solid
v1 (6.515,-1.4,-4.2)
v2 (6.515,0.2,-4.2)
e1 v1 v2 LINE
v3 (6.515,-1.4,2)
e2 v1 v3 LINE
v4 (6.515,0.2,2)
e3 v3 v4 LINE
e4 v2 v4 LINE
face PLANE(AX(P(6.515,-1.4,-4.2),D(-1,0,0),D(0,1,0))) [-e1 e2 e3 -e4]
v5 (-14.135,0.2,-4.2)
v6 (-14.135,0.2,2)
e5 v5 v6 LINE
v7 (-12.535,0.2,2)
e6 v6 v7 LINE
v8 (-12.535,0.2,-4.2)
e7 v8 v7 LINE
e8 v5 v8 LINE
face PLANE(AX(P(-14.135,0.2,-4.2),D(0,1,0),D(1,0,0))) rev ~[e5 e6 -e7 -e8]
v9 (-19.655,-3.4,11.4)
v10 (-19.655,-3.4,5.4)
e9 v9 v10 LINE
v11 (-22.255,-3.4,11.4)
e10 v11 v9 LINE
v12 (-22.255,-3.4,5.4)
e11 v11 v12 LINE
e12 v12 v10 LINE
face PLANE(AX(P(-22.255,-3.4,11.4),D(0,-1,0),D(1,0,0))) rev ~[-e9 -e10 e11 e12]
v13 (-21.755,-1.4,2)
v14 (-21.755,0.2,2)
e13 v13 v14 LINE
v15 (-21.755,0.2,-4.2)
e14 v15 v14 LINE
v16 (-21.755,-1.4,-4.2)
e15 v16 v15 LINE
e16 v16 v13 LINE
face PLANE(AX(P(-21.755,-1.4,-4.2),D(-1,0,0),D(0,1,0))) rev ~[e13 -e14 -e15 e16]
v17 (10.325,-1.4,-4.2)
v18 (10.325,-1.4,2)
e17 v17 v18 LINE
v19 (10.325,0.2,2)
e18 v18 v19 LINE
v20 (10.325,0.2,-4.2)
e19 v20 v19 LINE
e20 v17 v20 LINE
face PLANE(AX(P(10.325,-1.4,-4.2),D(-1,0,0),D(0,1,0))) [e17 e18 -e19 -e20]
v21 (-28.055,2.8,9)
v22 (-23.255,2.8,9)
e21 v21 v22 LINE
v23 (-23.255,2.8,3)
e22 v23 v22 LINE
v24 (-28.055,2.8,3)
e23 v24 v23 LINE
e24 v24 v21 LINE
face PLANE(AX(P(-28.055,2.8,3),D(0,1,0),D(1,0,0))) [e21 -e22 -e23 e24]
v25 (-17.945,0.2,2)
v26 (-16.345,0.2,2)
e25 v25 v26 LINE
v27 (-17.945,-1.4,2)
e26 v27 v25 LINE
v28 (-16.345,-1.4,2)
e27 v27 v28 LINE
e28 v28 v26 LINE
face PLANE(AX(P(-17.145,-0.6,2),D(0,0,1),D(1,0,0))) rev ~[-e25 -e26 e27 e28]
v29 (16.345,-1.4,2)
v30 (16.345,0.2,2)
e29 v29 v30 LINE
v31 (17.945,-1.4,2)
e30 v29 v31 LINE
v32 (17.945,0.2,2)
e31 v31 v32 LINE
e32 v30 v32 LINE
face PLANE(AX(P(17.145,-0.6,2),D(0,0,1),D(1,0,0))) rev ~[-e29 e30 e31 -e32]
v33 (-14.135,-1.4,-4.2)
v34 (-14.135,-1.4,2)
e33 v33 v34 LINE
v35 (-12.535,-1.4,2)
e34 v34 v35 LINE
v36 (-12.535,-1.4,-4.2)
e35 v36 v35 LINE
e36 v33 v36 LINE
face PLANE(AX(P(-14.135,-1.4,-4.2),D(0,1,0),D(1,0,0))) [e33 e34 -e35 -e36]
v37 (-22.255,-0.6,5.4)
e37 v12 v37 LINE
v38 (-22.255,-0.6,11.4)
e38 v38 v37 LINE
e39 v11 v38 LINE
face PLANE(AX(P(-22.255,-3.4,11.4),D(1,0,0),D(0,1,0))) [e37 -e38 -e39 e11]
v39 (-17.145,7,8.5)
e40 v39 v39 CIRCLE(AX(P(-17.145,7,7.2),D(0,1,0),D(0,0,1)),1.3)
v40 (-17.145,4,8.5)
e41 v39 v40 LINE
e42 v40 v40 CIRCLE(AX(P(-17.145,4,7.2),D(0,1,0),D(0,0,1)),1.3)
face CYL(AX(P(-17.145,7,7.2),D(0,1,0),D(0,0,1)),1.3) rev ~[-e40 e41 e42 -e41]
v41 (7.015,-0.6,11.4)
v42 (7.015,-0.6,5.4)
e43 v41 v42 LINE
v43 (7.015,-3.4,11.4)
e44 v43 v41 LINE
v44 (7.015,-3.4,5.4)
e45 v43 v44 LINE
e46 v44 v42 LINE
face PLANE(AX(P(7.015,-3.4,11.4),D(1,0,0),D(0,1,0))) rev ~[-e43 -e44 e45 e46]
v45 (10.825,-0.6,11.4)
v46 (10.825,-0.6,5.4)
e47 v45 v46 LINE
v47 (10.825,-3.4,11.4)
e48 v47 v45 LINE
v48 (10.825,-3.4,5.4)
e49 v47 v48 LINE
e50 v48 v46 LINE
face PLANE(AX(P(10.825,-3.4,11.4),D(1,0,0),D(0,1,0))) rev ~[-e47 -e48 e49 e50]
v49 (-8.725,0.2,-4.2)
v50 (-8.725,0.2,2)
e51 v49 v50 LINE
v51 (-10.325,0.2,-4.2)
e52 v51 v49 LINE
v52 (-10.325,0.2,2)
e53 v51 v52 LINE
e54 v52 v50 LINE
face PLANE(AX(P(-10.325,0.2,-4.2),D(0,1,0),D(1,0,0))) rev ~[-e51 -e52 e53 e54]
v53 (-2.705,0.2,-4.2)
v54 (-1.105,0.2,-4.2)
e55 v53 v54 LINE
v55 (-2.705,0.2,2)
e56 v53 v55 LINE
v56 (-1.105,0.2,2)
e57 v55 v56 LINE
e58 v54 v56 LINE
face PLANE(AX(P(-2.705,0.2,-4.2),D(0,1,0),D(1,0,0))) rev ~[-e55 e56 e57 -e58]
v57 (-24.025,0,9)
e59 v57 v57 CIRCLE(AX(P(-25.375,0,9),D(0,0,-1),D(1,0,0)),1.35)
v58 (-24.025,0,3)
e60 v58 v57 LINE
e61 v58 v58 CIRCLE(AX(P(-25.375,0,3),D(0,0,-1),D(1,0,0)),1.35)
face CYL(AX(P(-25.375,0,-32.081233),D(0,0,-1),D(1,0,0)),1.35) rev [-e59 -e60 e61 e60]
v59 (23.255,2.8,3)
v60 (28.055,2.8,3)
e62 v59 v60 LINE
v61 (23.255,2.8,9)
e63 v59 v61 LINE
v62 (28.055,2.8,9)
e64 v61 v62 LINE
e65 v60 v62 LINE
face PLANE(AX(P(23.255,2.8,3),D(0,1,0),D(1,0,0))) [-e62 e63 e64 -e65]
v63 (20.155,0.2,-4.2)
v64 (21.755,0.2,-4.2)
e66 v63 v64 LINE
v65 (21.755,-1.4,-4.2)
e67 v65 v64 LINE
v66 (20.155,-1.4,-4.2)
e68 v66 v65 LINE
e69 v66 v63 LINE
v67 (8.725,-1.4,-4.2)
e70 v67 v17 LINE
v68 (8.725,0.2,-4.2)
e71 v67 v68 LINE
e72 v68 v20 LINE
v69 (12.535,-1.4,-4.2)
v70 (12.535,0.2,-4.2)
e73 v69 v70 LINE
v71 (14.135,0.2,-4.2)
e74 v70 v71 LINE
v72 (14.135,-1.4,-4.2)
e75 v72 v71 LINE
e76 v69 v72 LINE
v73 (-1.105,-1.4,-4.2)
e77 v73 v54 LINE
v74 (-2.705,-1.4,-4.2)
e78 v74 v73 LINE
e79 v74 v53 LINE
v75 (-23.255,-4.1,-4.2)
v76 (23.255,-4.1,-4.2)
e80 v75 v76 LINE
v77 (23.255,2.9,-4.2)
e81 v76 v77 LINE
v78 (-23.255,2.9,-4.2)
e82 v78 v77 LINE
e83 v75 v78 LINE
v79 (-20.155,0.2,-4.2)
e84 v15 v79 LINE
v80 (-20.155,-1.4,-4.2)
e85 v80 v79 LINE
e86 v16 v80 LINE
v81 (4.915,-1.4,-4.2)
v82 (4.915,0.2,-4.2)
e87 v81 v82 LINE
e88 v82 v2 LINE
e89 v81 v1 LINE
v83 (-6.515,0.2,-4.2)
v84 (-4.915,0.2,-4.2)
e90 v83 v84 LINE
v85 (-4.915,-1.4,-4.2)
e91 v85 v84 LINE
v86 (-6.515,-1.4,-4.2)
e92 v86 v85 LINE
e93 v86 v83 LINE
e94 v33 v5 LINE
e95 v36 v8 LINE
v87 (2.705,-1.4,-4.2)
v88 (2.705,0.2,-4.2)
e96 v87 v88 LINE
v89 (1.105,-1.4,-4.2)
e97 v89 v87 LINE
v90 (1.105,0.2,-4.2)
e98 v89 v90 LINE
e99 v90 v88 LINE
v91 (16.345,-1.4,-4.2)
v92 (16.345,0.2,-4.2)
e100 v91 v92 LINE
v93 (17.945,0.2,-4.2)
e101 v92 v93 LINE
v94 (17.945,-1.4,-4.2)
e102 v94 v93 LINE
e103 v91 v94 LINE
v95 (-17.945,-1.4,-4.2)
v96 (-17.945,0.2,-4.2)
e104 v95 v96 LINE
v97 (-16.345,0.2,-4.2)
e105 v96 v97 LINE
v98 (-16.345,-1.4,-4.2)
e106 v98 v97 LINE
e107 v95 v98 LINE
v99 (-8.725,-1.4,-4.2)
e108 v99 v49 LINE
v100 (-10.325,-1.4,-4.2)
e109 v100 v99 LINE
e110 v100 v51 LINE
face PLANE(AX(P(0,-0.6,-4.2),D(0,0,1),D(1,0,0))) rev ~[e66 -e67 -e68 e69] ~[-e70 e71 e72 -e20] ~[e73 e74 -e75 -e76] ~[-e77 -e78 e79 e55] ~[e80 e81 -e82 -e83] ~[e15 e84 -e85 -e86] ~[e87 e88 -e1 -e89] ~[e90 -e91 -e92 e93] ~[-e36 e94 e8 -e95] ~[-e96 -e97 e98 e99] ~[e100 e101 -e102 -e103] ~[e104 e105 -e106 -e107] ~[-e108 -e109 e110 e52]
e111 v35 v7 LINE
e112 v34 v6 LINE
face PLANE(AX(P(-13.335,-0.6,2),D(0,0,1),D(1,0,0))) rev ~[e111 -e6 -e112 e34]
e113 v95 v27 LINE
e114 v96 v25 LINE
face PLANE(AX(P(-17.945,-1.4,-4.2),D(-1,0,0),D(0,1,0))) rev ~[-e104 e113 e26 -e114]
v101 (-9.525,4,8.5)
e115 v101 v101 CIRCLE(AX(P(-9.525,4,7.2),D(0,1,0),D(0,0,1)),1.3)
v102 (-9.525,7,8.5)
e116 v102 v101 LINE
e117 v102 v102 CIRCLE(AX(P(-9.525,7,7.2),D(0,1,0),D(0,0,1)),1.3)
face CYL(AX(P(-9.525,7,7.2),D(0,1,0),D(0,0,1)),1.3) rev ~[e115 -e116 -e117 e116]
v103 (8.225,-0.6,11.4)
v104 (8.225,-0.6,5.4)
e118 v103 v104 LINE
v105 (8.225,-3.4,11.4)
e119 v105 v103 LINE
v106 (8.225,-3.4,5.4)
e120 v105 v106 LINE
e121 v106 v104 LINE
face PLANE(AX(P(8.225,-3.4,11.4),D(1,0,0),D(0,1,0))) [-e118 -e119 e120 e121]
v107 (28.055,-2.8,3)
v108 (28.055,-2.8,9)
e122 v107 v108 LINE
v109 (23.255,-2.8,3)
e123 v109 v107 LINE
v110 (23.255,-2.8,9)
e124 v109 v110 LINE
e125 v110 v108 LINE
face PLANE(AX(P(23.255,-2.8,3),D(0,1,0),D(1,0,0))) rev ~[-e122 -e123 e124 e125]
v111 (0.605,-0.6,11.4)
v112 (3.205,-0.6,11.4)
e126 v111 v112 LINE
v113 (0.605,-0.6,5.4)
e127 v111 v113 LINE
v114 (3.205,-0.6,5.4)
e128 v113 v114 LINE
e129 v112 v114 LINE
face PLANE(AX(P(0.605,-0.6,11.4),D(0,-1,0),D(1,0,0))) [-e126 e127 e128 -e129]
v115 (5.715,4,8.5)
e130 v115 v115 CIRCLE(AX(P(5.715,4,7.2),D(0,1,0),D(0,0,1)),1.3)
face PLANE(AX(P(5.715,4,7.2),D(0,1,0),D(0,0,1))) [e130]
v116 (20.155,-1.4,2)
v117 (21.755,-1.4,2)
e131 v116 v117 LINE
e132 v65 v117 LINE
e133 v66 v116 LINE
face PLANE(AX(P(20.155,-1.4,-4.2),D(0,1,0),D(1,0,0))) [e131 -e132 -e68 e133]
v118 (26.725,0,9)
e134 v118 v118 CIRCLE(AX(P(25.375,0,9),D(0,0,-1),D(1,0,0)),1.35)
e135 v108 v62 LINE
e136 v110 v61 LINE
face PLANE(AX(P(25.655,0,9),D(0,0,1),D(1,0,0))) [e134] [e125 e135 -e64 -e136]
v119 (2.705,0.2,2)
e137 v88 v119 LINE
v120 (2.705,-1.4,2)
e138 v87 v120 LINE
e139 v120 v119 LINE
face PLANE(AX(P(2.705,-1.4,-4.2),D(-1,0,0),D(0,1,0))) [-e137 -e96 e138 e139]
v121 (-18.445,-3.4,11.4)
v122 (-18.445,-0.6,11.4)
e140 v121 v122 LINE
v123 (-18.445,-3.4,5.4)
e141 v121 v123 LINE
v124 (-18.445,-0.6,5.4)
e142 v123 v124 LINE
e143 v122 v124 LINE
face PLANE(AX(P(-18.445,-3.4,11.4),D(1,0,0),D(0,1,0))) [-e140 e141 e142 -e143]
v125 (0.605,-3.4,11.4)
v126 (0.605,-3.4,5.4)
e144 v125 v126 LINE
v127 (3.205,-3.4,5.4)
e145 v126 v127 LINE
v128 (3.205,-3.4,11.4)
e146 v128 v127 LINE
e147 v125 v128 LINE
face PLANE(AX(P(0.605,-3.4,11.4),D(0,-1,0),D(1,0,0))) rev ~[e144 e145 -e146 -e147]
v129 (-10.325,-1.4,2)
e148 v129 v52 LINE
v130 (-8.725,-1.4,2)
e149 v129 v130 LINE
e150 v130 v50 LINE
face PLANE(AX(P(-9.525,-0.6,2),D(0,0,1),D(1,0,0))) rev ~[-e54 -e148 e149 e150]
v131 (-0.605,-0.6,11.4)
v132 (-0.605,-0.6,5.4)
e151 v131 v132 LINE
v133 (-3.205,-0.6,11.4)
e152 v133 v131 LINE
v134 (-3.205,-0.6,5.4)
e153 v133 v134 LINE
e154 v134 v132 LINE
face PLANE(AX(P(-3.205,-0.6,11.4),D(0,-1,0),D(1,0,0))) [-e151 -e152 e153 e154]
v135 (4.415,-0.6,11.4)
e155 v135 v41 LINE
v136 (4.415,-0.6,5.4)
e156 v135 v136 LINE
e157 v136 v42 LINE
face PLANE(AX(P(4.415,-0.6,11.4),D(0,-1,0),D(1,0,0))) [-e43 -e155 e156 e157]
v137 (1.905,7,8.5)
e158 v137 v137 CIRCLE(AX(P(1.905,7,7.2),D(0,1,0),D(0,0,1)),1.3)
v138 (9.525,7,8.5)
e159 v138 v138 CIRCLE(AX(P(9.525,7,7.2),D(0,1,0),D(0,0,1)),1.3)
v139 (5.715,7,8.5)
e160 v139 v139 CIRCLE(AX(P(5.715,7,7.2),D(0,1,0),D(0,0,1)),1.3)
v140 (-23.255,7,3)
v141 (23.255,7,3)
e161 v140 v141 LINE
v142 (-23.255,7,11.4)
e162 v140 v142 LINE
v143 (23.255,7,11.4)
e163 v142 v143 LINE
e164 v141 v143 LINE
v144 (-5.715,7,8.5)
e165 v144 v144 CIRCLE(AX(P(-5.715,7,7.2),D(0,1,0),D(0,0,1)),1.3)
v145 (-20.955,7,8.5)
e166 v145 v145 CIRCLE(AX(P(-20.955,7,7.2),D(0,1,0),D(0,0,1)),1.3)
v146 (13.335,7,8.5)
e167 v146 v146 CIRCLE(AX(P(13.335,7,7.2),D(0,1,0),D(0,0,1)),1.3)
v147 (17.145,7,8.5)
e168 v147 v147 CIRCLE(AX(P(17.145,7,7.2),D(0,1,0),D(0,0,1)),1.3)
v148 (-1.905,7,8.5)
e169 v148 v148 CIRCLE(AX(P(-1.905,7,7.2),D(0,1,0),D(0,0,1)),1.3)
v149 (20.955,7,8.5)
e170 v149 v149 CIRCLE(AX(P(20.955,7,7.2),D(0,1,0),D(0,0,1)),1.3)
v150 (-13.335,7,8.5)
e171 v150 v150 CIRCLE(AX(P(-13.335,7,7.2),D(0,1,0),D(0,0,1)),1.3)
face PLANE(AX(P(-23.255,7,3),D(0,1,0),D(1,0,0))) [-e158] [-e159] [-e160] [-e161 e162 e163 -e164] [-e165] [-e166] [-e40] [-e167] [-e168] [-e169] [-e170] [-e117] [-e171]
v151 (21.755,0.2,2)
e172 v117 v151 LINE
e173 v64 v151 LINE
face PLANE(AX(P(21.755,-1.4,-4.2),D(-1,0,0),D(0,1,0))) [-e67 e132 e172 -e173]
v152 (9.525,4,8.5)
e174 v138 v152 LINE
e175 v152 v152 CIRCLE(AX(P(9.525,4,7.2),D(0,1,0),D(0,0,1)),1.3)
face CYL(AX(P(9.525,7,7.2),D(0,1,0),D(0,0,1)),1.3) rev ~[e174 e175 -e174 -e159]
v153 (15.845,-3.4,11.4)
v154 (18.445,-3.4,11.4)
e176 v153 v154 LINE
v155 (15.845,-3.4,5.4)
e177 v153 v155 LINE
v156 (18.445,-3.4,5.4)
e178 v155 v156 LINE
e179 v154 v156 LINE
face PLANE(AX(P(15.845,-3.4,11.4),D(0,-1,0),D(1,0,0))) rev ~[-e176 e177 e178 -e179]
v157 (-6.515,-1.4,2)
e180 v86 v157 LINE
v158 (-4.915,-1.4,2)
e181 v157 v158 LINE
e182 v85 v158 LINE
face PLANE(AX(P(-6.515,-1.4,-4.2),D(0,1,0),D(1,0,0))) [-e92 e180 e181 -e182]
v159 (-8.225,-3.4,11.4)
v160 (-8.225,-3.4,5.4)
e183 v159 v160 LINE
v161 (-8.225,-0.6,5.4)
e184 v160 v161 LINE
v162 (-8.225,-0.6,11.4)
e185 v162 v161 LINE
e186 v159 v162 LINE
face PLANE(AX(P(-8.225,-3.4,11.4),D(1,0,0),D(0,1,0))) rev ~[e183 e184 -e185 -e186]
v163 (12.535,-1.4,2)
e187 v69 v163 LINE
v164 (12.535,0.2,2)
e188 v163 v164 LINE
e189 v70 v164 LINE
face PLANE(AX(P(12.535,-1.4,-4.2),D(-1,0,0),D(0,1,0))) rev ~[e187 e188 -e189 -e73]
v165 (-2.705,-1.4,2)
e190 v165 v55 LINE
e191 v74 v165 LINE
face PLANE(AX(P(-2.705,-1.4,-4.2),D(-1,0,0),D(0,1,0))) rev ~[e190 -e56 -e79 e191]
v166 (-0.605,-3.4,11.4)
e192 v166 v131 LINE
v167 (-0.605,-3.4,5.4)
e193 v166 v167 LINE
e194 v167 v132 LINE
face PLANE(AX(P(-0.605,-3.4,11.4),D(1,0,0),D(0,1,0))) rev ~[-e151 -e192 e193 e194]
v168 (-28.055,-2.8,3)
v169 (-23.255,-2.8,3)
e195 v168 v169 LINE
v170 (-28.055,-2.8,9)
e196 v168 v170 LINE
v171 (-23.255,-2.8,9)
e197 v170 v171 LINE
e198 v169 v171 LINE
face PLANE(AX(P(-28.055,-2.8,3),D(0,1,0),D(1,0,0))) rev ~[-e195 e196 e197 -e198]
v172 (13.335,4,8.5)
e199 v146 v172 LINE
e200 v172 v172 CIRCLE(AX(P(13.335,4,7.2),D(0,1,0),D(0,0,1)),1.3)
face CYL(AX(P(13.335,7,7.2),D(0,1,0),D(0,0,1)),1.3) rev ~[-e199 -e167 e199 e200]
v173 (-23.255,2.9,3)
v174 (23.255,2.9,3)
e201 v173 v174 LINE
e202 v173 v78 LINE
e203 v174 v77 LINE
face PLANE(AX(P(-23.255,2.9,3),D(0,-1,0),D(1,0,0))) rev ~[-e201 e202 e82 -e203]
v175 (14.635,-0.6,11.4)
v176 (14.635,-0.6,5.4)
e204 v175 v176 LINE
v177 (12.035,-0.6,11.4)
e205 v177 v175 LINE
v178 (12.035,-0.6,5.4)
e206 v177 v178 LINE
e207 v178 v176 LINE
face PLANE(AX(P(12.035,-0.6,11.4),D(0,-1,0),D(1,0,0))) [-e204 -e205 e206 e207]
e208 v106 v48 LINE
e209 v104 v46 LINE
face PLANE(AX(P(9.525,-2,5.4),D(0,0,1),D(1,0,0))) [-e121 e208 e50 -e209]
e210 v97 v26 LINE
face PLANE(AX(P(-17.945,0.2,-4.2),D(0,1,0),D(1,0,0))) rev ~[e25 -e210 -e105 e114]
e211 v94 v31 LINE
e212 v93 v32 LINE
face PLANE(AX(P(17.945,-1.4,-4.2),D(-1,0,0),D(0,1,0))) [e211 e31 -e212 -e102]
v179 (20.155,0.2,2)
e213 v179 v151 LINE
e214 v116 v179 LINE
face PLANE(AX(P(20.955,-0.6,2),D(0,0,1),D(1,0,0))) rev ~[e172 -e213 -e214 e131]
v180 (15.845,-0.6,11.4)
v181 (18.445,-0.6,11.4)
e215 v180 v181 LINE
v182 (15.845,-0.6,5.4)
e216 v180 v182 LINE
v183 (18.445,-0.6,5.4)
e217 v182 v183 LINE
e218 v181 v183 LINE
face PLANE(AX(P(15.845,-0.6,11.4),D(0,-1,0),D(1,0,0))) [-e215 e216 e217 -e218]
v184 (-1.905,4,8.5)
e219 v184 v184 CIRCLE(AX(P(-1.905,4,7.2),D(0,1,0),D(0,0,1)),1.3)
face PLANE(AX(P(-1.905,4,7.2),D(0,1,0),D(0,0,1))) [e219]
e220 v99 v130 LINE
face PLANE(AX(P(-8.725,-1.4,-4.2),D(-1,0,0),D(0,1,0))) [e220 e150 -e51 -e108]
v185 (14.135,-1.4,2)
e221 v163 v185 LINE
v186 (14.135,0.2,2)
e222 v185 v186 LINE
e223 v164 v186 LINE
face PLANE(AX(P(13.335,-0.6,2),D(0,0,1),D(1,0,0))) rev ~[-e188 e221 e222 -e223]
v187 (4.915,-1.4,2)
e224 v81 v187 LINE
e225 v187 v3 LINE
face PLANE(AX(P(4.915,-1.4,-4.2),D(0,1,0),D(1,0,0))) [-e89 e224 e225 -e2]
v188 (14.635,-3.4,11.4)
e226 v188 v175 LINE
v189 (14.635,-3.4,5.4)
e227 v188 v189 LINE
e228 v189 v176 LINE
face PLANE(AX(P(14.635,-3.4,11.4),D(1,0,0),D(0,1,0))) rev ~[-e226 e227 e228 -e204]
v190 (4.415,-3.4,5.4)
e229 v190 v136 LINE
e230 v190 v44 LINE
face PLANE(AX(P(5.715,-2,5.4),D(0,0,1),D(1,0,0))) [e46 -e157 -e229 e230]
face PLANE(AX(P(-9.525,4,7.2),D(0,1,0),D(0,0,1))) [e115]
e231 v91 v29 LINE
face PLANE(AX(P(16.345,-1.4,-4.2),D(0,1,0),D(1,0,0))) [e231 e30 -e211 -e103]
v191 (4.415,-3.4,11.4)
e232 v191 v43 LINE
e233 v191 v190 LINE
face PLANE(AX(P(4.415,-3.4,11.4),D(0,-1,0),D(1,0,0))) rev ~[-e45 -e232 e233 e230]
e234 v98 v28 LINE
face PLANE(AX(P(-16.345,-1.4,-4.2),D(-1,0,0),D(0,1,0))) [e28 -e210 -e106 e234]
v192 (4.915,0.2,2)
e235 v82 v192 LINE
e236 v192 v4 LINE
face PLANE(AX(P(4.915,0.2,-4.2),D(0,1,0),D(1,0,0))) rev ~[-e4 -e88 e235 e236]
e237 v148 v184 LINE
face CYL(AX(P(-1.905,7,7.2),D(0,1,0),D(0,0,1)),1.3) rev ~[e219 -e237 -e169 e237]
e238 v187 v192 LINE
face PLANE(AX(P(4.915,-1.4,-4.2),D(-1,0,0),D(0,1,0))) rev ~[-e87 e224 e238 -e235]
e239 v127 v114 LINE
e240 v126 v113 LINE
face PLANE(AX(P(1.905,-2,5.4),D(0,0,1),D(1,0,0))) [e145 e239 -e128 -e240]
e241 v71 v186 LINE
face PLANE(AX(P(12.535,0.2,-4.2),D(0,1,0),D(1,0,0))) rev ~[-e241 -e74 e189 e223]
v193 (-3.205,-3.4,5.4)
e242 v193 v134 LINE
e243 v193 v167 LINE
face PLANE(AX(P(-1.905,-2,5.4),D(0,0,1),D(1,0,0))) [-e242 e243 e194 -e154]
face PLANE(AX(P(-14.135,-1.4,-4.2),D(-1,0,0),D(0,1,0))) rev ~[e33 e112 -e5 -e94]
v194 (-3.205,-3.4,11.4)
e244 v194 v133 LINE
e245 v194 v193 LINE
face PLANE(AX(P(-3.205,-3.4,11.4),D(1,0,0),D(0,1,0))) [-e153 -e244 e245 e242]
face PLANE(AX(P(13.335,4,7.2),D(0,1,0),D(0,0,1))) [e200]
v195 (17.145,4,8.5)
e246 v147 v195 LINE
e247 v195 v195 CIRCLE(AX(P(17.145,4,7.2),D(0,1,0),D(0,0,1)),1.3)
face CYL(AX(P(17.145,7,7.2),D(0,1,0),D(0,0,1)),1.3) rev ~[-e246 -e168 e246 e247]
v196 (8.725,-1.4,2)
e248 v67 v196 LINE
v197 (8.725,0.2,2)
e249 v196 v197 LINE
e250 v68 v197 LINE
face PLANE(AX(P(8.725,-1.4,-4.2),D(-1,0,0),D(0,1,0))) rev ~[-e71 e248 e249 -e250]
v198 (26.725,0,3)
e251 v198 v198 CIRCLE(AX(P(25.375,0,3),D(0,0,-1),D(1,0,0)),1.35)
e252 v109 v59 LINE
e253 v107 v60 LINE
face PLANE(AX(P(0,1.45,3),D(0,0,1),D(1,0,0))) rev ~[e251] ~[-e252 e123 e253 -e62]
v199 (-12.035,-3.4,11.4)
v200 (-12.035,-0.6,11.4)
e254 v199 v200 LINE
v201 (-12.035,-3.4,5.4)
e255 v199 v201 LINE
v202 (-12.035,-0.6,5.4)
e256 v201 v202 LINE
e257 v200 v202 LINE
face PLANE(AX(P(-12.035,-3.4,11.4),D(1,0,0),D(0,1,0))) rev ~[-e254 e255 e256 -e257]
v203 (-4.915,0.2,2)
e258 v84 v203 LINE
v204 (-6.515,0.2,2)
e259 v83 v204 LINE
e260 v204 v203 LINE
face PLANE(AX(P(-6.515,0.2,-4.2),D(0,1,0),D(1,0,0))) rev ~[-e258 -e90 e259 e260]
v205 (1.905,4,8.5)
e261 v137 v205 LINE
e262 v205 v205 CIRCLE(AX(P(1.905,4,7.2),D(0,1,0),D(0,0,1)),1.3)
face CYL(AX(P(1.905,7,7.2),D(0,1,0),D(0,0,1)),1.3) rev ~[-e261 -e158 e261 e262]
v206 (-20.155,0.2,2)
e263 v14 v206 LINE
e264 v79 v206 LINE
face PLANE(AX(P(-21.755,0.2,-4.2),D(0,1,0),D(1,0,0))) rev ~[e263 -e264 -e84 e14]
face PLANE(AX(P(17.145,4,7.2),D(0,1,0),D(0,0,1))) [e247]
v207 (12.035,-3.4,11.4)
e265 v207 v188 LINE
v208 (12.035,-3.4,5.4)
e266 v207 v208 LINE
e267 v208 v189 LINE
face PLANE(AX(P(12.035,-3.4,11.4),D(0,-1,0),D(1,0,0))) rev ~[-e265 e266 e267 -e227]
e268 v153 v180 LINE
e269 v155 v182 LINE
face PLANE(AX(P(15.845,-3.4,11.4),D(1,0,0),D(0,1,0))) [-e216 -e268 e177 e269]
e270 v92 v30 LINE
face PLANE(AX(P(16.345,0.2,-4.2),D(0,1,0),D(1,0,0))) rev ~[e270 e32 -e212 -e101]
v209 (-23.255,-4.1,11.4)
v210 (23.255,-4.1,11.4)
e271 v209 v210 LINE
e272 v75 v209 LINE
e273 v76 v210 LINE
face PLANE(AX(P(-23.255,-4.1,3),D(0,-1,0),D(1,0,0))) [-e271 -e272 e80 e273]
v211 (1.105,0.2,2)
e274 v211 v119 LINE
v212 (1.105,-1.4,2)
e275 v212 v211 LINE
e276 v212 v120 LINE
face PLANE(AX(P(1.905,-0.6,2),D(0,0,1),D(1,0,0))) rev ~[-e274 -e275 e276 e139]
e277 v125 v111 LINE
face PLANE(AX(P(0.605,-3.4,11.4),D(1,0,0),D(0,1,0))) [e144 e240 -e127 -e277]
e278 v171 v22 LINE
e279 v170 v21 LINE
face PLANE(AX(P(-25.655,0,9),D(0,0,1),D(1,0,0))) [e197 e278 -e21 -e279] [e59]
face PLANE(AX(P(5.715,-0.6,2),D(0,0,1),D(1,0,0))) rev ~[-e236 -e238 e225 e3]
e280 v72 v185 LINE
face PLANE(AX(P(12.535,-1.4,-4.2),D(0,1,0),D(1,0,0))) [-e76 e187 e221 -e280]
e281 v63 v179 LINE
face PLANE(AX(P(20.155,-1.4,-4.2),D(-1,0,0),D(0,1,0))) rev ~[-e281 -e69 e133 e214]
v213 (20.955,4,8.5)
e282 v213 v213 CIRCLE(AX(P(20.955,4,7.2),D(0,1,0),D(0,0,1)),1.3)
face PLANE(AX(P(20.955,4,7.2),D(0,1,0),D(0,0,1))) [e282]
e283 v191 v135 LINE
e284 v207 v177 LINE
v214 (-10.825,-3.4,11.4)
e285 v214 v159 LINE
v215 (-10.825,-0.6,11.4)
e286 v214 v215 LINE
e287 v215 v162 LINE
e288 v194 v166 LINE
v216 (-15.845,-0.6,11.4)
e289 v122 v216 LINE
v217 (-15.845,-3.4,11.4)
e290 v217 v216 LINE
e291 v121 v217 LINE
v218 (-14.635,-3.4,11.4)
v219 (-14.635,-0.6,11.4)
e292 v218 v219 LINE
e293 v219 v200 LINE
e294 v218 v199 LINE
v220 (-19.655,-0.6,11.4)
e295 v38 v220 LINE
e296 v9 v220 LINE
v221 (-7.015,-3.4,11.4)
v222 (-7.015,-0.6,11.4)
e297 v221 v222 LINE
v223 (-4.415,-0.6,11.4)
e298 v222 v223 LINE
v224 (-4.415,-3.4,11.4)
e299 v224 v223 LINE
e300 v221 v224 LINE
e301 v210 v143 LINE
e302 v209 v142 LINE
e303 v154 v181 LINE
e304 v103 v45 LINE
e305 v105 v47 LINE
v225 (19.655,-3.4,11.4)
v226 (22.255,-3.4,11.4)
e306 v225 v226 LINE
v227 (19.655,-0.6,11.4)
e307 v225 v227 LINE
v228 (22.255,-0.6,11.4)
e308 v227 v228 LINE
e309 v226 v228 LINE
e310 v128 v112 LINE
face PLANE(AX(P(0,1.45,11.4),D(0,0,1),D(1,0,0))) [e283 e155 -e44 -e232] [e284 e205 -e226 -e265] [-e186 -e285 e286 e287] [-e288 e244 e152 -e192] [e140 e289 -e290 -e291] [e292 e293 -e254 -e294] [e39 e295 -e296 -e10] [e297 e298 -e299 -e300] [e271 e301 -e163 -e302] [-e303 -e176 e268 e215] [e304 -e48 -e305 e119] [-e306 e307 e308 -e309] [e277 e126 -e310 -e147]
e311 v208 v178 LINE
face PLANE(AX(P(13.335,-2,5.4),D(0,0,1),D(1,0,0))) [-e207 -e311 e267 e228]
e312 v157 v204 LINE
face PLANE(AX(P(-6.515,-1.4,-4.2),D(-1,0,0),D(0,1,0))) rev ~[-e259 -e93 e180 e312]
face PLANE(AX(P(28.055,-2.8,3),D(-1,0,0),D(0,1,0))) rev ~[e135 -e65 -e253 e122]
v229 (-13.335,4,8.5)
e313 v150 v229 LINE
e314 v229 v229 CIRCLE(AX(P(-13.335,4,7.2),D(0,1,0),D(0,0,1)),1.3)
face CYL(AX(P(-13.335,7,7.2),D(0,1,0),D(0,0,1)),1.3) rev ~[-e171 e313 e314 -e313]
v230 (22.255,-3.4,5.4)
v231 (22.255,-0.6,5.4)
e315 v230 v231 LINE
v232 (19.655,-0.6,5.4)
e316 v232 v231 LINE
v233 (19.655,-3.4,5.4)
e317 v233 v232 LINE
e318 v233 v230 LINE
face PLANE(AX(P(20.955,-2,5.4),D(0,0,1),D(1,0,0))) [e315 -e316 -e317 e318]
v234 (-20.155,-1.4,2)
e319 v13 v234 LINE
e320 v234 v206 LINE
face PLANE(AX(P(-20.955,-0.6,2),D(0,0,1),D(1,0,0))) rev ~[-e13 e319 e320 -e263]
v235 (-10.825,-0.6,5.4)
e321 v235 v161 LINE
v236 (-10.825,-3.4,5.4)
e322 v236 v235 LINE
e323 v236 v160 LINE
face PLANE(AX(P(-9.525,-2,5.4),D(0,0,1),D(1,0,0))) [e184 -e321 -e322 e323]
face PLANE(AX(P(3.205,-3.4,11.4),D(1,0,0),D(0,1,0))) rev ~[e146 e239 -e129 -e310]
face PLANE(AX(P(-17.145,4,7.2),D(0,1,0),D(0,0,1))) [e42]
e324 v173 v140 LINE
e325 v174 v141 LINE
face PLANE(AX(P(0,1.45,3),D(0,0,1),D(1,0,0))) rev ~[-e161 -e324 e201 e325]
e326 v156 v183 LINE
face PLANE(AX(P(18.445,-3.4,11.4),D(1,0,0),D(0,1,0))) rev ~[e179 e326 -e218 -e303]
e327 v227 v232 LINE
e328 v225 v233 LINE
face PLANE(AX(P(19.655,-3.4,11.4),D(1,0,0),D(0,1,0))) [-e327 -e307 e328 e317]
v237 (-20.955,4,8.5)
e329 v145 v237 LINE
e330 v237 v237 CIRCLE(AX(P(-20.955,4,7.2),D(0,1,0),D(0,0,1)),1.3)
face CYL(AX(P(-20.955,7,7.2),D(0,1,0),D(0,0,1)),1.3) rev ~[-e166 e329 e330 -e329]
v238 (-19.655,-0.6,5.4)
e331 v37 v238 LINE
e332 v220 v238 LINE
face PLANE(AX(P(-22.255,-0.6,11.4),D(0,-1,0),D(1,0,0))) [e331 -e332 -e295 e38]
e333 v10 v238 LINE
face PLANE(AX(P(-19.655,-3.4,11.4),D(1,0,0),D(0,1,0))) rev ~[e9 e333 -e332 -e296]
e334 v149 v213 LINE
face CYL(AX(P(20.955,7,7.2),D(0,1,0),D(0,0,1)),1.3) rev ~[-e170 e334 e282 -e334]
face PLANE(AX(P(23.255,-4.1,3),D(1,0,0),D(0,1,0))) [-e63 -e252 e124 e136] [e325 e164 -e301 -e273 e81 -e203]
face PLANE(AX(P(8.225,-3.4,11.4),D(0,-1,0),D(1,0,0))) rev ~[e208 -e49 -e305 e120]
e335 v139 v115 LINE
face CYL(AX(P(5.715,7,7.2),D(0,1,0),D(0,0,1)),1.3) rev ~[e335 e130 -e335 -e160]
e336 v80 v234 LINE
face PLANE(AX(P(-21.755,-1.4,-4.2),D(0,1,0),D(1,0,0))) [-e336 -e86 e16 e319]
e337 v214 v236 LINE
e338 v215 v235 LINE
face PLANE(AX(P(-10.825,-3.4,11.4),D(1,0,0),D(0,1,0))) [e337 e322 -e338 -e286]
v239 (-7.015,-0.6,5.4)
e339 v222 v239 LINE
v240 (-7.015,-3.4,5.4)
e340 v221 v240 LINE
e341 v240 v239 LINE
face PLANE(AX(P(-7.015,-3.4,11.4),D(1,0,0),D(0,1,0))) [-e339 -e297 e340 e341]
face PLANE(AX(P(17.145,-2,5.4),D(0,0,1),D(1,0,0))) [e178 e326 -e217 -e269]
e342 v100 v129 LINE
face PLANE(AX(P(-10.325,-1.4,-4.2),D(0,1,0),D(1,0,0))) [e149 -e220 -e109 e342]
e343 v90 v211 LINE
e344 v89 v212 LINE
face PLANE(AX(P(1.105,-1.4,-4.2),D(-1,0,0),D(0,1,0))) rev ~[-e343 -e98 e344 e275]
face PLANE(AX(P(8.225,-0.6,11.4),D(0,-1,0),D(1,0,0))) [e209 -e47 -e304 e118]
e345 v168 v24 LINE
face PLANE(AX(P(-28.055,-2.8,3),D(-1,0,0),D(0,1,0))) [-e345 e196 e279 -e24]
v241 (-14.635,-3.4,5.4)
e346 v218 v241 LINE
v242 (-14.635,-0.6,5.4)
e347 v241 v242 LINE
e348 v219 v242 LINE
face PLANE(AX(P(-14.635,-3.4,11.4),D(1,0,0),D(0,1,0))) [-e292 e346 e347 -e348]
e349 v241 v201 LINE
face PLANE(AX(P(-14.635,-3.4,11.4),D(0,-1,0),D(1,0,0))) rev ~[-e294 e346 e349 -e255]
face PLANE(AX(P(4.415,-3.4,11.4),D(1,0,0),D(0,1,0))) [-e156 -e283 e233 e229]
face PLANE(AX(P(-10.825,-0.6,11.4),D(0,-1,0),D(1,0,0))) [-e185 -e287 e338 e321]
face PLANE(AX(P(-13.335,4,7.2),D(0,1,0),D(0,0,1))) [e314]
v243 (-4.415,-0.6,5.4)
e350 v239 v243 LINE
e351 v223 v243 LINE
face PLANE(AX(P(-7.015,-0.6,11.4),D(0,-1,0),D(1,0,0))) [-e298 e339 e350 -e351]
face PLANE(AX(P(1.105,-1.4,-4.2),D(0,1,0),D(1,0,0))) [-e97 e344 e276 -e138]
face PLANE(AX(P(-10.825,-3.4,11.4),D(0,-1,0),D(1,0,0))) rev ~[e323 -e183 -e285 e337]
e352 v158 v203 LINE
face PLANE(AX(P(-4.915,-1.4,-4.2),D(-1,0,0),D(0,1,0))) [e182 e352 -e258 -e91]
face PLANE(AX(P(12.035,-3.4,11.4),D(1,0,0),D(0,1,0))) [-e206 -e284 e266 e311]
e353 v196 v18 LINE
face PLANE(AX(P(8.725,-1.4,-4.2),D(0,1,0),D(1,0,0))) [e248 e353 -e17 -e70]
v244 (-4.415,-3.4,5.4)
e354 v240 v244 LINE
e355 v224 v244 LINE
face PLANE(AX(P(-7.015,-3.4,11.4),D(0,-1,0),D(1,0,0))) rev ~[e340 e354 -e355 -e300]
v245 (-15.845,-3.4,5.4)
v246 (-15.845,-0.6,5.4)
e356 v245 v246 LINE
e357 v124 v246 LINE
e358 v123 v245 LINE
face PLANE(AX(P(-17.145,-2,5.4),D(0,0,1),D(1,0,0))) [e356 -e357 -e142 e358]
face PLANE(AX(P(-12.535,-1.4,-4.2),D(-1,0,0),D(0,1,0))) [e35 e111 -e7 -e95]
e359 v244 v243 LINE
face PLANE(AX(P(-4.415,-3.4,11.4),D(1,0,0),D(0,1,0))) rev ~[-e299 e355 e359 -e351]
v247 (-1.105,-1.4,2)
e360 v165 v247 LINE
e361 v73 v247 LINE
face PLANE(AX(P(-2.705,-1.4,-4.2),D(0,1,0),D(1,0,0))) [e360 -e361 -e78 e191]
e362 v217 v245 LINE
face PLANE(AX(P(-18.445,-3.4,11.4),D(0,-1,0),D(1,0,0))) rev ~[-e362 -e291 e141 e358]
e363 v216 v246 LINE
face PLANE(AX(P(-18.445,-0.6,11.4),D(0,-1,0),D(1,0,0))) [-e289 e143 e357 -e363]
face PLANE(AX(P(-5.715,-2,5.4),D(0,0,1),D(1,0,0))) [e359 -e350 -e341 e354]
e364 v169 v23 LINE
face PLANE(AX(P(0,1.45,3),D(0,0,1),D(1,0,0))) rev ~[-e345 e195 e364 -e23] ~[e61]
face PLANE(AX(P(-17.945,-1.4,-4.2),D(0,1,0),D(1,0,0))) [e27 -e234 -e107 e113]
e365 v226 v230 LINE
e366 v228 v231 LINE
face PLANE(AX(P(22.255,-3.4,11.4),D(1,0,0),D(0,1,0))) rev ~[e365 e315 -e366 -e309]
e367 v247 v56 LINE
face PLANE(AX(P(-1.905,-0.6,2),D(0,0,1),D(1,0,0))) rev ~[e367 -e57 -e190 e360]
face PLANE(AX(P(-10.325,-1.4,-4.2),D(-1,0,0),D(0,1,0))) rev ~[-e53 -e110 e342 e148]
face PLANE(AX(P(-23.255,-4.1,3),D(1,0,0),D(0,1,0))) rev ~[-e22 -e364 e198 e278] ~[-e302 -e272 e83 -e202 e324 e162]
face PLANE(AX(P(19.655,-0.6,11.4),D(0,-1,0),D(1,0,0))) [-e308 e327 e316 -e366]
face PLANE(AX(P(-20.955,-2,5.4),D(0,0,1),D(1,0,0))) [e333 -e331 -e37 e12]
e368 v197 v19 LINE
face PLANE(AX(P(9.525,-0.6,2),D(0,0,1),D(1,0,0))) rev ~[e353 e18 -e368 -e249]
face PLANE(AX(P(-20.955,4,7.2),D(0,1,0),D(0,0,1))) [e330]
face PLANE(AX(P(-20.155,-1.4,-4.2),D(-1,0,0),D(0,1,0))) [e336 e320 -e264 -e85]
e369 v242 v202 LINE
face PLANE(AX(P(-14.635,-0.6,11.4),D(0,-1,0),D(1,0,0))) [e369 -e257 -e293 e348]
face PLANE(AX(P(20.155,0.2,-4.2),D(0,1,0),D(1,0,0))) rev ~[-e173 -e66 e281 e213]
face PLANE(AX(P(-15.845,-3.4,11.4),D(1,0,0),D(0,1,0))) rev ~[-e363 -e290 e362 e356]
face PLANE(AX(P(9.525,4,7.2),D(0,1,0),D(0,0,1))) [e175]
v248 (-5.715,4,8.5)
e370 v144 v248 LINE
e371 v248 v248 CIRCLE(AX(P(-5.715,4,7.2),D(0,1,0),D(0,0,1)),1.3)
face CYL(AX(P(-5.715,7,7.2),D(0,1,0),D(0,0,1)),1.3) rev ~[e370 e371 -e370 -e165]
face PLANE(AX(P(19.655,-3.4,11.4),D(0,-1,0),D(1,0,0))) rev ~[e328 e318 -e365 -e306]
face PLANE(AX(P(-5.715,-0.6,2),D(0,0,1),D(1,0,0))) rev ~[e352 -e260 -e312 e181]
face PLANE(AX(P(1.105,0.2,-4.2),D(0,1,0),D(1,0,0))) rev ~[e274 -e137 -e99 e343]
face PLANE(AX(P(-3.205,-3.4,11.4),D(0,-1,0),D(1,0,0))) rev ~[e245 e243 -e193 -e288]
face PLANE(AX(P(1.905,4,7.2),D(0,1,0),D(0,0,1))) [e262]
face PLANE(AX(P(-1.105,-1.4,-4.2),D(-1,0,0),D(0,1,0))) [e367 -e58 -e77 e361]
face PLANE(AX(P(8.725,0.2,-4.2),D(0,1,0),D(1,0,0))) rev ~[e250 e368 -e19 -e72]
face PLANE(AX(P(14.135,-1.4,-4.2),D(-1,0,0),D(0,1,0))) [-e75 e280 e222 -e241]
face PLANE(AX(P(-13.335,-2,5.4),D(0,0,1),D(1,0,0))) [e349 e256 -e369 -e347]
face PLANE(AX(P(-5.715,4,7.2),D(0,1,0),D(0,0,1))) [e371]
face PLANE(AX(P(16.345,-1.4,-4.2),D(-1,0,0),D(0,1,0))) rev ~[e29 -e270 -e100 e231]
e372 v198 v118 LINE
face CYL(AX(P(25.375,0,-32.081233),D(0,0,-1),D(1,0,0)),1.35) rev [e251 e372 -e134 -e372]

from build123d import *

# Parameters (mm, degrees)
SK_BODY_W                     = 46.51
SK_BODY_H                     = 11.1
BODY_DEPTH                    = 8.4
SK_FLANGE_EARS_W              = 4.8
SK_FLANGE_EARS_H              = 5.6
FLANGE_EARS_DEPTH             = 6
SK_NOSE_W                     = 46.51
SK_NOSE_H                     = 7
NOSE_DEPTH                    = 7.2
FLANGE_SCREW_HOLES_DEPTH      = 32.081232681
FLANGE_SCREW_HOLES_DEPTH_BACK = 32.081232681
SK_FLANGE_SCREW_HOLES_R       = 1.35
SK_WIRE_ENTRIES_W             = 2.6
SK_WIRE_ENTRIES_H             = 2.8
WIRE_ENTRIES_DEPTH            = 6
SK_CONTACT_OPENINGS_W         = 1.6
SK_CONTACT_OPENINGS_H         = 1.6
CONTACT_OPENINGS_DEPTH        = 6.2
SK_CLAMP_SCREW_HOLES_R        = 1.3
CLAMP_SCREW_HOLES_DEPTH       = 3


with BuildPart() as part:
    # SK Body → Body (new body)
    with BuildSketch(Plane.XY.offset(3)):
        with Locations((0, 1.45)):
            Rectangle(SK_BODY_W, SK_BODY_H)
    extrude(amount=BODY_DEPTH)

    # SK Flange ears → Flange ears (add)
    with BuildSketch(Plane.XY.offset(3)):
        with Locations((25.655, 0)):
            Rectangle(SK_FLANGE_EARS_W, SK_FLANGE_EARS_H)
        with Locations((-25.655, 0)):
            Rectangle(SK_FLANGE_EARS_W, SK_FLANGE_EARS_H)
    extrude(amount=FLANGE_EARS_DEPTH)

    # SK Nose → Nose (add)
    with BuildSketch(Plane.XY.offset(3)):
        with Locations((0, -0.6)):
            Rectangle(SK_NOSE_W, SK_NOSE_H)
    extrude(amount=-NOSE_DEPTH)

    # SK Flange screw holes → Flange screw holes (cut, two sides: drawn at the far end of the back side and taken through both)
    with BuildSketch(Plane.XY.offset(-FLANGE_SCREW_HOLES_DEPTH_BACK)):
        with Locations((-25.375, 0)):
            Circle(SK_FLANGE_SCREW_HOLES_R)
        with Locations((25.375, 0)):
            Circle(SK_FLANGE_SCREW_HOLES_R)
    extrude(amount=FLANGE_SCREW_HOLES_DEPTH + FLANGE_SCREW_HOLES_DEPTH_BACK, mode=Mode.SUBTRACT)

    # SK Wire entries → Wire entries (cut)
    with BuildSketch(Plane.XY.offset(11.4)):
        with Locations((-20.955, -2)):
            Rectangle(SK_WIRE_ENTRIES_W, SK_WIRE_ENTRIES_H)
        with Locations((-17.145, -2)):
            Rectangle(SK_WIRE_ENTRIES_W, SK_WIRE_ENTRIES_H)
        with Locations((-13.335, -2)):
            Rectangle(SK_WIRE_ENTRIES_W, SK_WIRE_ENTRIES_H)
        with Locations((-9.525, -2)):
            Rectangle(SK_WIRE_ENTRIES_W, SK_WIRE_ENTRIES_H)
        with Locations((-5.715, -2)):
            Rectangle(SK_WIRE_ENTRIES_W, SK_WIRE_ENTRIES_H)
        with Locations((-1.905, -2)):
            Rectangle(SK_WIRE_ENTRIES_W, SK_WIRE_ENTRIES_H)
        with Locations((1.905, -2)):
            Rectangle(SK_WIRE_ENTRIES_W, SK_WIRE_ENTRIES_H)
        with Locations((5.715, -2)):
            Rectangle(SK_WIRE_ENTRIES_W, SK_WIRE_ENTRIES_H)
        with Locations((9.525, -2)):
            Rectangle(SK_WIRE_ENTRIES_W, SK_WIRE_ENTRIES_H)
        with Locations((13.335, -2)):
            Rectangle(SK_WIRE_ENTRIES_W, SK_WIRE_ENTRIES_H)
        with Locations((17.145, -2)):
            Rectangle(SK_WIRE_ENTRIES_W, SK_WIRE_ENTRIES_H)
        with Locations((20.955, -2)):
            Rectangle(SK_WIRE_ENTRIES_W, SK_WIRE_ENTRIES_H)
    extrude(amount=-WIRE_ENTRIES_DEPTH, mode=Mode.SUBTRACT)

    # SK Contact openings → Contact openings (cut)
    with BuildSketch(Plane.XY.offset(-4.2)):
        with Locations((-20.955, -0.6)):
            Rectangle(SK_CONTACT_OPENINGS_W, SK_CONTACT_OPENINGS_H)
        with Locations((-17.145, -0.6)):
            Rectangle(SK_CONTACT_OPENINGS_W, SK_CONTACT_OPENINGS_H)
        with Locations((-13.335, -0.6)):
            Rectangle(SK_CONTACT_OPENINGS_W, SK_CONTACT_OPENINGS_H)
        with Locations((-9.525, -0.6)):
            Rectangle(SK_CONTACT_OPENINGS_W, SK_CONTACT_OPENINGS_H)
        with Locations((-5.715, -0.6)):
            Rectangle(SK_CONTACT_OPENINGS_W, SK_CONTACT_OPENINGS_H)
        with Locations((-1.905, -0.6)):
            Rectangle(SK_CONTACT_OPENINGS_W, SK_CONTACT_OPENINGS_H)
        with Locations((1.905, -0.6)):
            Rectangle(SK_CONTACT_OPENINGS_W, SK_CONTACT_OPENINGS_H)
        with Locations((5.715, -0.6)):
            Rectangle(SK_CONTACT_OPENINGS_W, SK_CONTACT_OPENINGS_H)
        with Locations((9.525, -0.6)):
            Rectangle(SK_CONTACT_OPENINGS_W, SK_CONTACT_OPENINGS_H)
        with Locations((13.335, -0.6)):
            Rectangle(SK_CONTACT_OPENINGS_W, SK_CONTACT_OPENINGS_H)
        with Locations((17.145, -0.6)):
            Rectangle(SK_CONTACT_OPENINGS_W, SK_CONTACT_OPENINGS_H)
        with Locations((20.955, -0.6)):
            Rectangle(SK_CONTACT_OPENINGS_W, SK_CONTACT_OPENINGS_H)
    extrude(amount=CONTACT_OPENINGS_DEPTH, mode=Mode.SUBTRACT)

    # SK Clamp screw holes → Clamp screw holes (cut)
    with BuildSketch(Plane(origin=(0, 7, 0), x_dir=(1, 0, 0), z_dir=(0, 1, 0))):
        with Locations(Location((-20.955, -7.2, 0), (0, 0, 270))):
            Circle(SK_CLAMP_SCREW_HOLES_R)
        with Locations(Location((-17.145, -7.2, 0), (0, 0, 270))):
            Circle(SK_CLAMP_SCREW_HOLES_R)
        with Locations(Location((-13.335, -7.2, 0), (0, 0, 270))):
            Circle(SK_CLAMP_SCREW_HOLES_R)
        with Locations(Location((-9.525, -7.2, 0), (0, 0, 270))):
            Circle(SK_CLAMP_SCREW_HOLES_R)
        with Locations(Location((-5.715, -7.2, 0), (0, 0, 270))):
            Circle(SK_CLAMP_SCREW_HOLES_R)
        with Locations(Location((-1.905, -7.2, 0), (0, 0, 270))):
            Circle(SK_CLAMP_SCREW_HOLES_R)
        with Locations(Location((1.905, -7.2, 0), (0, 0, 270))):
            Circle(SK_CLAMP_SCREW_HOLES_R)
        with Locations(Location((5.715, -7.2, 0), (0, 0, 270))):
            Circle(SK_CLAMP_SCREW_HOLES_R)
        with Locations(Location((9.525, -7.2, 0), (0, 0, 270))):
            Circle(SK_CLAMP_SCREW_HOLES_R)
        with Locations(Location((13.335, -7.2, 0), (0, 0, 270))):
            Circle(SK_CLAMP_SCREW_HOLES_R)
        with Locations(Location((17.145, -7.2, 0), (0, 0, 270))):
            Circle(SK_CLAMP_SCREW_HOLES_R)
        with Locations(Location((20.955, -7.2, 0), (0, 0, 270))):
            Circle(SK_CLAMP_SCREW_HOLES_R)
    extrude(amount=-CLAMP_SCREW_HOLES_DEPTH, mode=Mode.SUBTRACT)


solid = part.part
